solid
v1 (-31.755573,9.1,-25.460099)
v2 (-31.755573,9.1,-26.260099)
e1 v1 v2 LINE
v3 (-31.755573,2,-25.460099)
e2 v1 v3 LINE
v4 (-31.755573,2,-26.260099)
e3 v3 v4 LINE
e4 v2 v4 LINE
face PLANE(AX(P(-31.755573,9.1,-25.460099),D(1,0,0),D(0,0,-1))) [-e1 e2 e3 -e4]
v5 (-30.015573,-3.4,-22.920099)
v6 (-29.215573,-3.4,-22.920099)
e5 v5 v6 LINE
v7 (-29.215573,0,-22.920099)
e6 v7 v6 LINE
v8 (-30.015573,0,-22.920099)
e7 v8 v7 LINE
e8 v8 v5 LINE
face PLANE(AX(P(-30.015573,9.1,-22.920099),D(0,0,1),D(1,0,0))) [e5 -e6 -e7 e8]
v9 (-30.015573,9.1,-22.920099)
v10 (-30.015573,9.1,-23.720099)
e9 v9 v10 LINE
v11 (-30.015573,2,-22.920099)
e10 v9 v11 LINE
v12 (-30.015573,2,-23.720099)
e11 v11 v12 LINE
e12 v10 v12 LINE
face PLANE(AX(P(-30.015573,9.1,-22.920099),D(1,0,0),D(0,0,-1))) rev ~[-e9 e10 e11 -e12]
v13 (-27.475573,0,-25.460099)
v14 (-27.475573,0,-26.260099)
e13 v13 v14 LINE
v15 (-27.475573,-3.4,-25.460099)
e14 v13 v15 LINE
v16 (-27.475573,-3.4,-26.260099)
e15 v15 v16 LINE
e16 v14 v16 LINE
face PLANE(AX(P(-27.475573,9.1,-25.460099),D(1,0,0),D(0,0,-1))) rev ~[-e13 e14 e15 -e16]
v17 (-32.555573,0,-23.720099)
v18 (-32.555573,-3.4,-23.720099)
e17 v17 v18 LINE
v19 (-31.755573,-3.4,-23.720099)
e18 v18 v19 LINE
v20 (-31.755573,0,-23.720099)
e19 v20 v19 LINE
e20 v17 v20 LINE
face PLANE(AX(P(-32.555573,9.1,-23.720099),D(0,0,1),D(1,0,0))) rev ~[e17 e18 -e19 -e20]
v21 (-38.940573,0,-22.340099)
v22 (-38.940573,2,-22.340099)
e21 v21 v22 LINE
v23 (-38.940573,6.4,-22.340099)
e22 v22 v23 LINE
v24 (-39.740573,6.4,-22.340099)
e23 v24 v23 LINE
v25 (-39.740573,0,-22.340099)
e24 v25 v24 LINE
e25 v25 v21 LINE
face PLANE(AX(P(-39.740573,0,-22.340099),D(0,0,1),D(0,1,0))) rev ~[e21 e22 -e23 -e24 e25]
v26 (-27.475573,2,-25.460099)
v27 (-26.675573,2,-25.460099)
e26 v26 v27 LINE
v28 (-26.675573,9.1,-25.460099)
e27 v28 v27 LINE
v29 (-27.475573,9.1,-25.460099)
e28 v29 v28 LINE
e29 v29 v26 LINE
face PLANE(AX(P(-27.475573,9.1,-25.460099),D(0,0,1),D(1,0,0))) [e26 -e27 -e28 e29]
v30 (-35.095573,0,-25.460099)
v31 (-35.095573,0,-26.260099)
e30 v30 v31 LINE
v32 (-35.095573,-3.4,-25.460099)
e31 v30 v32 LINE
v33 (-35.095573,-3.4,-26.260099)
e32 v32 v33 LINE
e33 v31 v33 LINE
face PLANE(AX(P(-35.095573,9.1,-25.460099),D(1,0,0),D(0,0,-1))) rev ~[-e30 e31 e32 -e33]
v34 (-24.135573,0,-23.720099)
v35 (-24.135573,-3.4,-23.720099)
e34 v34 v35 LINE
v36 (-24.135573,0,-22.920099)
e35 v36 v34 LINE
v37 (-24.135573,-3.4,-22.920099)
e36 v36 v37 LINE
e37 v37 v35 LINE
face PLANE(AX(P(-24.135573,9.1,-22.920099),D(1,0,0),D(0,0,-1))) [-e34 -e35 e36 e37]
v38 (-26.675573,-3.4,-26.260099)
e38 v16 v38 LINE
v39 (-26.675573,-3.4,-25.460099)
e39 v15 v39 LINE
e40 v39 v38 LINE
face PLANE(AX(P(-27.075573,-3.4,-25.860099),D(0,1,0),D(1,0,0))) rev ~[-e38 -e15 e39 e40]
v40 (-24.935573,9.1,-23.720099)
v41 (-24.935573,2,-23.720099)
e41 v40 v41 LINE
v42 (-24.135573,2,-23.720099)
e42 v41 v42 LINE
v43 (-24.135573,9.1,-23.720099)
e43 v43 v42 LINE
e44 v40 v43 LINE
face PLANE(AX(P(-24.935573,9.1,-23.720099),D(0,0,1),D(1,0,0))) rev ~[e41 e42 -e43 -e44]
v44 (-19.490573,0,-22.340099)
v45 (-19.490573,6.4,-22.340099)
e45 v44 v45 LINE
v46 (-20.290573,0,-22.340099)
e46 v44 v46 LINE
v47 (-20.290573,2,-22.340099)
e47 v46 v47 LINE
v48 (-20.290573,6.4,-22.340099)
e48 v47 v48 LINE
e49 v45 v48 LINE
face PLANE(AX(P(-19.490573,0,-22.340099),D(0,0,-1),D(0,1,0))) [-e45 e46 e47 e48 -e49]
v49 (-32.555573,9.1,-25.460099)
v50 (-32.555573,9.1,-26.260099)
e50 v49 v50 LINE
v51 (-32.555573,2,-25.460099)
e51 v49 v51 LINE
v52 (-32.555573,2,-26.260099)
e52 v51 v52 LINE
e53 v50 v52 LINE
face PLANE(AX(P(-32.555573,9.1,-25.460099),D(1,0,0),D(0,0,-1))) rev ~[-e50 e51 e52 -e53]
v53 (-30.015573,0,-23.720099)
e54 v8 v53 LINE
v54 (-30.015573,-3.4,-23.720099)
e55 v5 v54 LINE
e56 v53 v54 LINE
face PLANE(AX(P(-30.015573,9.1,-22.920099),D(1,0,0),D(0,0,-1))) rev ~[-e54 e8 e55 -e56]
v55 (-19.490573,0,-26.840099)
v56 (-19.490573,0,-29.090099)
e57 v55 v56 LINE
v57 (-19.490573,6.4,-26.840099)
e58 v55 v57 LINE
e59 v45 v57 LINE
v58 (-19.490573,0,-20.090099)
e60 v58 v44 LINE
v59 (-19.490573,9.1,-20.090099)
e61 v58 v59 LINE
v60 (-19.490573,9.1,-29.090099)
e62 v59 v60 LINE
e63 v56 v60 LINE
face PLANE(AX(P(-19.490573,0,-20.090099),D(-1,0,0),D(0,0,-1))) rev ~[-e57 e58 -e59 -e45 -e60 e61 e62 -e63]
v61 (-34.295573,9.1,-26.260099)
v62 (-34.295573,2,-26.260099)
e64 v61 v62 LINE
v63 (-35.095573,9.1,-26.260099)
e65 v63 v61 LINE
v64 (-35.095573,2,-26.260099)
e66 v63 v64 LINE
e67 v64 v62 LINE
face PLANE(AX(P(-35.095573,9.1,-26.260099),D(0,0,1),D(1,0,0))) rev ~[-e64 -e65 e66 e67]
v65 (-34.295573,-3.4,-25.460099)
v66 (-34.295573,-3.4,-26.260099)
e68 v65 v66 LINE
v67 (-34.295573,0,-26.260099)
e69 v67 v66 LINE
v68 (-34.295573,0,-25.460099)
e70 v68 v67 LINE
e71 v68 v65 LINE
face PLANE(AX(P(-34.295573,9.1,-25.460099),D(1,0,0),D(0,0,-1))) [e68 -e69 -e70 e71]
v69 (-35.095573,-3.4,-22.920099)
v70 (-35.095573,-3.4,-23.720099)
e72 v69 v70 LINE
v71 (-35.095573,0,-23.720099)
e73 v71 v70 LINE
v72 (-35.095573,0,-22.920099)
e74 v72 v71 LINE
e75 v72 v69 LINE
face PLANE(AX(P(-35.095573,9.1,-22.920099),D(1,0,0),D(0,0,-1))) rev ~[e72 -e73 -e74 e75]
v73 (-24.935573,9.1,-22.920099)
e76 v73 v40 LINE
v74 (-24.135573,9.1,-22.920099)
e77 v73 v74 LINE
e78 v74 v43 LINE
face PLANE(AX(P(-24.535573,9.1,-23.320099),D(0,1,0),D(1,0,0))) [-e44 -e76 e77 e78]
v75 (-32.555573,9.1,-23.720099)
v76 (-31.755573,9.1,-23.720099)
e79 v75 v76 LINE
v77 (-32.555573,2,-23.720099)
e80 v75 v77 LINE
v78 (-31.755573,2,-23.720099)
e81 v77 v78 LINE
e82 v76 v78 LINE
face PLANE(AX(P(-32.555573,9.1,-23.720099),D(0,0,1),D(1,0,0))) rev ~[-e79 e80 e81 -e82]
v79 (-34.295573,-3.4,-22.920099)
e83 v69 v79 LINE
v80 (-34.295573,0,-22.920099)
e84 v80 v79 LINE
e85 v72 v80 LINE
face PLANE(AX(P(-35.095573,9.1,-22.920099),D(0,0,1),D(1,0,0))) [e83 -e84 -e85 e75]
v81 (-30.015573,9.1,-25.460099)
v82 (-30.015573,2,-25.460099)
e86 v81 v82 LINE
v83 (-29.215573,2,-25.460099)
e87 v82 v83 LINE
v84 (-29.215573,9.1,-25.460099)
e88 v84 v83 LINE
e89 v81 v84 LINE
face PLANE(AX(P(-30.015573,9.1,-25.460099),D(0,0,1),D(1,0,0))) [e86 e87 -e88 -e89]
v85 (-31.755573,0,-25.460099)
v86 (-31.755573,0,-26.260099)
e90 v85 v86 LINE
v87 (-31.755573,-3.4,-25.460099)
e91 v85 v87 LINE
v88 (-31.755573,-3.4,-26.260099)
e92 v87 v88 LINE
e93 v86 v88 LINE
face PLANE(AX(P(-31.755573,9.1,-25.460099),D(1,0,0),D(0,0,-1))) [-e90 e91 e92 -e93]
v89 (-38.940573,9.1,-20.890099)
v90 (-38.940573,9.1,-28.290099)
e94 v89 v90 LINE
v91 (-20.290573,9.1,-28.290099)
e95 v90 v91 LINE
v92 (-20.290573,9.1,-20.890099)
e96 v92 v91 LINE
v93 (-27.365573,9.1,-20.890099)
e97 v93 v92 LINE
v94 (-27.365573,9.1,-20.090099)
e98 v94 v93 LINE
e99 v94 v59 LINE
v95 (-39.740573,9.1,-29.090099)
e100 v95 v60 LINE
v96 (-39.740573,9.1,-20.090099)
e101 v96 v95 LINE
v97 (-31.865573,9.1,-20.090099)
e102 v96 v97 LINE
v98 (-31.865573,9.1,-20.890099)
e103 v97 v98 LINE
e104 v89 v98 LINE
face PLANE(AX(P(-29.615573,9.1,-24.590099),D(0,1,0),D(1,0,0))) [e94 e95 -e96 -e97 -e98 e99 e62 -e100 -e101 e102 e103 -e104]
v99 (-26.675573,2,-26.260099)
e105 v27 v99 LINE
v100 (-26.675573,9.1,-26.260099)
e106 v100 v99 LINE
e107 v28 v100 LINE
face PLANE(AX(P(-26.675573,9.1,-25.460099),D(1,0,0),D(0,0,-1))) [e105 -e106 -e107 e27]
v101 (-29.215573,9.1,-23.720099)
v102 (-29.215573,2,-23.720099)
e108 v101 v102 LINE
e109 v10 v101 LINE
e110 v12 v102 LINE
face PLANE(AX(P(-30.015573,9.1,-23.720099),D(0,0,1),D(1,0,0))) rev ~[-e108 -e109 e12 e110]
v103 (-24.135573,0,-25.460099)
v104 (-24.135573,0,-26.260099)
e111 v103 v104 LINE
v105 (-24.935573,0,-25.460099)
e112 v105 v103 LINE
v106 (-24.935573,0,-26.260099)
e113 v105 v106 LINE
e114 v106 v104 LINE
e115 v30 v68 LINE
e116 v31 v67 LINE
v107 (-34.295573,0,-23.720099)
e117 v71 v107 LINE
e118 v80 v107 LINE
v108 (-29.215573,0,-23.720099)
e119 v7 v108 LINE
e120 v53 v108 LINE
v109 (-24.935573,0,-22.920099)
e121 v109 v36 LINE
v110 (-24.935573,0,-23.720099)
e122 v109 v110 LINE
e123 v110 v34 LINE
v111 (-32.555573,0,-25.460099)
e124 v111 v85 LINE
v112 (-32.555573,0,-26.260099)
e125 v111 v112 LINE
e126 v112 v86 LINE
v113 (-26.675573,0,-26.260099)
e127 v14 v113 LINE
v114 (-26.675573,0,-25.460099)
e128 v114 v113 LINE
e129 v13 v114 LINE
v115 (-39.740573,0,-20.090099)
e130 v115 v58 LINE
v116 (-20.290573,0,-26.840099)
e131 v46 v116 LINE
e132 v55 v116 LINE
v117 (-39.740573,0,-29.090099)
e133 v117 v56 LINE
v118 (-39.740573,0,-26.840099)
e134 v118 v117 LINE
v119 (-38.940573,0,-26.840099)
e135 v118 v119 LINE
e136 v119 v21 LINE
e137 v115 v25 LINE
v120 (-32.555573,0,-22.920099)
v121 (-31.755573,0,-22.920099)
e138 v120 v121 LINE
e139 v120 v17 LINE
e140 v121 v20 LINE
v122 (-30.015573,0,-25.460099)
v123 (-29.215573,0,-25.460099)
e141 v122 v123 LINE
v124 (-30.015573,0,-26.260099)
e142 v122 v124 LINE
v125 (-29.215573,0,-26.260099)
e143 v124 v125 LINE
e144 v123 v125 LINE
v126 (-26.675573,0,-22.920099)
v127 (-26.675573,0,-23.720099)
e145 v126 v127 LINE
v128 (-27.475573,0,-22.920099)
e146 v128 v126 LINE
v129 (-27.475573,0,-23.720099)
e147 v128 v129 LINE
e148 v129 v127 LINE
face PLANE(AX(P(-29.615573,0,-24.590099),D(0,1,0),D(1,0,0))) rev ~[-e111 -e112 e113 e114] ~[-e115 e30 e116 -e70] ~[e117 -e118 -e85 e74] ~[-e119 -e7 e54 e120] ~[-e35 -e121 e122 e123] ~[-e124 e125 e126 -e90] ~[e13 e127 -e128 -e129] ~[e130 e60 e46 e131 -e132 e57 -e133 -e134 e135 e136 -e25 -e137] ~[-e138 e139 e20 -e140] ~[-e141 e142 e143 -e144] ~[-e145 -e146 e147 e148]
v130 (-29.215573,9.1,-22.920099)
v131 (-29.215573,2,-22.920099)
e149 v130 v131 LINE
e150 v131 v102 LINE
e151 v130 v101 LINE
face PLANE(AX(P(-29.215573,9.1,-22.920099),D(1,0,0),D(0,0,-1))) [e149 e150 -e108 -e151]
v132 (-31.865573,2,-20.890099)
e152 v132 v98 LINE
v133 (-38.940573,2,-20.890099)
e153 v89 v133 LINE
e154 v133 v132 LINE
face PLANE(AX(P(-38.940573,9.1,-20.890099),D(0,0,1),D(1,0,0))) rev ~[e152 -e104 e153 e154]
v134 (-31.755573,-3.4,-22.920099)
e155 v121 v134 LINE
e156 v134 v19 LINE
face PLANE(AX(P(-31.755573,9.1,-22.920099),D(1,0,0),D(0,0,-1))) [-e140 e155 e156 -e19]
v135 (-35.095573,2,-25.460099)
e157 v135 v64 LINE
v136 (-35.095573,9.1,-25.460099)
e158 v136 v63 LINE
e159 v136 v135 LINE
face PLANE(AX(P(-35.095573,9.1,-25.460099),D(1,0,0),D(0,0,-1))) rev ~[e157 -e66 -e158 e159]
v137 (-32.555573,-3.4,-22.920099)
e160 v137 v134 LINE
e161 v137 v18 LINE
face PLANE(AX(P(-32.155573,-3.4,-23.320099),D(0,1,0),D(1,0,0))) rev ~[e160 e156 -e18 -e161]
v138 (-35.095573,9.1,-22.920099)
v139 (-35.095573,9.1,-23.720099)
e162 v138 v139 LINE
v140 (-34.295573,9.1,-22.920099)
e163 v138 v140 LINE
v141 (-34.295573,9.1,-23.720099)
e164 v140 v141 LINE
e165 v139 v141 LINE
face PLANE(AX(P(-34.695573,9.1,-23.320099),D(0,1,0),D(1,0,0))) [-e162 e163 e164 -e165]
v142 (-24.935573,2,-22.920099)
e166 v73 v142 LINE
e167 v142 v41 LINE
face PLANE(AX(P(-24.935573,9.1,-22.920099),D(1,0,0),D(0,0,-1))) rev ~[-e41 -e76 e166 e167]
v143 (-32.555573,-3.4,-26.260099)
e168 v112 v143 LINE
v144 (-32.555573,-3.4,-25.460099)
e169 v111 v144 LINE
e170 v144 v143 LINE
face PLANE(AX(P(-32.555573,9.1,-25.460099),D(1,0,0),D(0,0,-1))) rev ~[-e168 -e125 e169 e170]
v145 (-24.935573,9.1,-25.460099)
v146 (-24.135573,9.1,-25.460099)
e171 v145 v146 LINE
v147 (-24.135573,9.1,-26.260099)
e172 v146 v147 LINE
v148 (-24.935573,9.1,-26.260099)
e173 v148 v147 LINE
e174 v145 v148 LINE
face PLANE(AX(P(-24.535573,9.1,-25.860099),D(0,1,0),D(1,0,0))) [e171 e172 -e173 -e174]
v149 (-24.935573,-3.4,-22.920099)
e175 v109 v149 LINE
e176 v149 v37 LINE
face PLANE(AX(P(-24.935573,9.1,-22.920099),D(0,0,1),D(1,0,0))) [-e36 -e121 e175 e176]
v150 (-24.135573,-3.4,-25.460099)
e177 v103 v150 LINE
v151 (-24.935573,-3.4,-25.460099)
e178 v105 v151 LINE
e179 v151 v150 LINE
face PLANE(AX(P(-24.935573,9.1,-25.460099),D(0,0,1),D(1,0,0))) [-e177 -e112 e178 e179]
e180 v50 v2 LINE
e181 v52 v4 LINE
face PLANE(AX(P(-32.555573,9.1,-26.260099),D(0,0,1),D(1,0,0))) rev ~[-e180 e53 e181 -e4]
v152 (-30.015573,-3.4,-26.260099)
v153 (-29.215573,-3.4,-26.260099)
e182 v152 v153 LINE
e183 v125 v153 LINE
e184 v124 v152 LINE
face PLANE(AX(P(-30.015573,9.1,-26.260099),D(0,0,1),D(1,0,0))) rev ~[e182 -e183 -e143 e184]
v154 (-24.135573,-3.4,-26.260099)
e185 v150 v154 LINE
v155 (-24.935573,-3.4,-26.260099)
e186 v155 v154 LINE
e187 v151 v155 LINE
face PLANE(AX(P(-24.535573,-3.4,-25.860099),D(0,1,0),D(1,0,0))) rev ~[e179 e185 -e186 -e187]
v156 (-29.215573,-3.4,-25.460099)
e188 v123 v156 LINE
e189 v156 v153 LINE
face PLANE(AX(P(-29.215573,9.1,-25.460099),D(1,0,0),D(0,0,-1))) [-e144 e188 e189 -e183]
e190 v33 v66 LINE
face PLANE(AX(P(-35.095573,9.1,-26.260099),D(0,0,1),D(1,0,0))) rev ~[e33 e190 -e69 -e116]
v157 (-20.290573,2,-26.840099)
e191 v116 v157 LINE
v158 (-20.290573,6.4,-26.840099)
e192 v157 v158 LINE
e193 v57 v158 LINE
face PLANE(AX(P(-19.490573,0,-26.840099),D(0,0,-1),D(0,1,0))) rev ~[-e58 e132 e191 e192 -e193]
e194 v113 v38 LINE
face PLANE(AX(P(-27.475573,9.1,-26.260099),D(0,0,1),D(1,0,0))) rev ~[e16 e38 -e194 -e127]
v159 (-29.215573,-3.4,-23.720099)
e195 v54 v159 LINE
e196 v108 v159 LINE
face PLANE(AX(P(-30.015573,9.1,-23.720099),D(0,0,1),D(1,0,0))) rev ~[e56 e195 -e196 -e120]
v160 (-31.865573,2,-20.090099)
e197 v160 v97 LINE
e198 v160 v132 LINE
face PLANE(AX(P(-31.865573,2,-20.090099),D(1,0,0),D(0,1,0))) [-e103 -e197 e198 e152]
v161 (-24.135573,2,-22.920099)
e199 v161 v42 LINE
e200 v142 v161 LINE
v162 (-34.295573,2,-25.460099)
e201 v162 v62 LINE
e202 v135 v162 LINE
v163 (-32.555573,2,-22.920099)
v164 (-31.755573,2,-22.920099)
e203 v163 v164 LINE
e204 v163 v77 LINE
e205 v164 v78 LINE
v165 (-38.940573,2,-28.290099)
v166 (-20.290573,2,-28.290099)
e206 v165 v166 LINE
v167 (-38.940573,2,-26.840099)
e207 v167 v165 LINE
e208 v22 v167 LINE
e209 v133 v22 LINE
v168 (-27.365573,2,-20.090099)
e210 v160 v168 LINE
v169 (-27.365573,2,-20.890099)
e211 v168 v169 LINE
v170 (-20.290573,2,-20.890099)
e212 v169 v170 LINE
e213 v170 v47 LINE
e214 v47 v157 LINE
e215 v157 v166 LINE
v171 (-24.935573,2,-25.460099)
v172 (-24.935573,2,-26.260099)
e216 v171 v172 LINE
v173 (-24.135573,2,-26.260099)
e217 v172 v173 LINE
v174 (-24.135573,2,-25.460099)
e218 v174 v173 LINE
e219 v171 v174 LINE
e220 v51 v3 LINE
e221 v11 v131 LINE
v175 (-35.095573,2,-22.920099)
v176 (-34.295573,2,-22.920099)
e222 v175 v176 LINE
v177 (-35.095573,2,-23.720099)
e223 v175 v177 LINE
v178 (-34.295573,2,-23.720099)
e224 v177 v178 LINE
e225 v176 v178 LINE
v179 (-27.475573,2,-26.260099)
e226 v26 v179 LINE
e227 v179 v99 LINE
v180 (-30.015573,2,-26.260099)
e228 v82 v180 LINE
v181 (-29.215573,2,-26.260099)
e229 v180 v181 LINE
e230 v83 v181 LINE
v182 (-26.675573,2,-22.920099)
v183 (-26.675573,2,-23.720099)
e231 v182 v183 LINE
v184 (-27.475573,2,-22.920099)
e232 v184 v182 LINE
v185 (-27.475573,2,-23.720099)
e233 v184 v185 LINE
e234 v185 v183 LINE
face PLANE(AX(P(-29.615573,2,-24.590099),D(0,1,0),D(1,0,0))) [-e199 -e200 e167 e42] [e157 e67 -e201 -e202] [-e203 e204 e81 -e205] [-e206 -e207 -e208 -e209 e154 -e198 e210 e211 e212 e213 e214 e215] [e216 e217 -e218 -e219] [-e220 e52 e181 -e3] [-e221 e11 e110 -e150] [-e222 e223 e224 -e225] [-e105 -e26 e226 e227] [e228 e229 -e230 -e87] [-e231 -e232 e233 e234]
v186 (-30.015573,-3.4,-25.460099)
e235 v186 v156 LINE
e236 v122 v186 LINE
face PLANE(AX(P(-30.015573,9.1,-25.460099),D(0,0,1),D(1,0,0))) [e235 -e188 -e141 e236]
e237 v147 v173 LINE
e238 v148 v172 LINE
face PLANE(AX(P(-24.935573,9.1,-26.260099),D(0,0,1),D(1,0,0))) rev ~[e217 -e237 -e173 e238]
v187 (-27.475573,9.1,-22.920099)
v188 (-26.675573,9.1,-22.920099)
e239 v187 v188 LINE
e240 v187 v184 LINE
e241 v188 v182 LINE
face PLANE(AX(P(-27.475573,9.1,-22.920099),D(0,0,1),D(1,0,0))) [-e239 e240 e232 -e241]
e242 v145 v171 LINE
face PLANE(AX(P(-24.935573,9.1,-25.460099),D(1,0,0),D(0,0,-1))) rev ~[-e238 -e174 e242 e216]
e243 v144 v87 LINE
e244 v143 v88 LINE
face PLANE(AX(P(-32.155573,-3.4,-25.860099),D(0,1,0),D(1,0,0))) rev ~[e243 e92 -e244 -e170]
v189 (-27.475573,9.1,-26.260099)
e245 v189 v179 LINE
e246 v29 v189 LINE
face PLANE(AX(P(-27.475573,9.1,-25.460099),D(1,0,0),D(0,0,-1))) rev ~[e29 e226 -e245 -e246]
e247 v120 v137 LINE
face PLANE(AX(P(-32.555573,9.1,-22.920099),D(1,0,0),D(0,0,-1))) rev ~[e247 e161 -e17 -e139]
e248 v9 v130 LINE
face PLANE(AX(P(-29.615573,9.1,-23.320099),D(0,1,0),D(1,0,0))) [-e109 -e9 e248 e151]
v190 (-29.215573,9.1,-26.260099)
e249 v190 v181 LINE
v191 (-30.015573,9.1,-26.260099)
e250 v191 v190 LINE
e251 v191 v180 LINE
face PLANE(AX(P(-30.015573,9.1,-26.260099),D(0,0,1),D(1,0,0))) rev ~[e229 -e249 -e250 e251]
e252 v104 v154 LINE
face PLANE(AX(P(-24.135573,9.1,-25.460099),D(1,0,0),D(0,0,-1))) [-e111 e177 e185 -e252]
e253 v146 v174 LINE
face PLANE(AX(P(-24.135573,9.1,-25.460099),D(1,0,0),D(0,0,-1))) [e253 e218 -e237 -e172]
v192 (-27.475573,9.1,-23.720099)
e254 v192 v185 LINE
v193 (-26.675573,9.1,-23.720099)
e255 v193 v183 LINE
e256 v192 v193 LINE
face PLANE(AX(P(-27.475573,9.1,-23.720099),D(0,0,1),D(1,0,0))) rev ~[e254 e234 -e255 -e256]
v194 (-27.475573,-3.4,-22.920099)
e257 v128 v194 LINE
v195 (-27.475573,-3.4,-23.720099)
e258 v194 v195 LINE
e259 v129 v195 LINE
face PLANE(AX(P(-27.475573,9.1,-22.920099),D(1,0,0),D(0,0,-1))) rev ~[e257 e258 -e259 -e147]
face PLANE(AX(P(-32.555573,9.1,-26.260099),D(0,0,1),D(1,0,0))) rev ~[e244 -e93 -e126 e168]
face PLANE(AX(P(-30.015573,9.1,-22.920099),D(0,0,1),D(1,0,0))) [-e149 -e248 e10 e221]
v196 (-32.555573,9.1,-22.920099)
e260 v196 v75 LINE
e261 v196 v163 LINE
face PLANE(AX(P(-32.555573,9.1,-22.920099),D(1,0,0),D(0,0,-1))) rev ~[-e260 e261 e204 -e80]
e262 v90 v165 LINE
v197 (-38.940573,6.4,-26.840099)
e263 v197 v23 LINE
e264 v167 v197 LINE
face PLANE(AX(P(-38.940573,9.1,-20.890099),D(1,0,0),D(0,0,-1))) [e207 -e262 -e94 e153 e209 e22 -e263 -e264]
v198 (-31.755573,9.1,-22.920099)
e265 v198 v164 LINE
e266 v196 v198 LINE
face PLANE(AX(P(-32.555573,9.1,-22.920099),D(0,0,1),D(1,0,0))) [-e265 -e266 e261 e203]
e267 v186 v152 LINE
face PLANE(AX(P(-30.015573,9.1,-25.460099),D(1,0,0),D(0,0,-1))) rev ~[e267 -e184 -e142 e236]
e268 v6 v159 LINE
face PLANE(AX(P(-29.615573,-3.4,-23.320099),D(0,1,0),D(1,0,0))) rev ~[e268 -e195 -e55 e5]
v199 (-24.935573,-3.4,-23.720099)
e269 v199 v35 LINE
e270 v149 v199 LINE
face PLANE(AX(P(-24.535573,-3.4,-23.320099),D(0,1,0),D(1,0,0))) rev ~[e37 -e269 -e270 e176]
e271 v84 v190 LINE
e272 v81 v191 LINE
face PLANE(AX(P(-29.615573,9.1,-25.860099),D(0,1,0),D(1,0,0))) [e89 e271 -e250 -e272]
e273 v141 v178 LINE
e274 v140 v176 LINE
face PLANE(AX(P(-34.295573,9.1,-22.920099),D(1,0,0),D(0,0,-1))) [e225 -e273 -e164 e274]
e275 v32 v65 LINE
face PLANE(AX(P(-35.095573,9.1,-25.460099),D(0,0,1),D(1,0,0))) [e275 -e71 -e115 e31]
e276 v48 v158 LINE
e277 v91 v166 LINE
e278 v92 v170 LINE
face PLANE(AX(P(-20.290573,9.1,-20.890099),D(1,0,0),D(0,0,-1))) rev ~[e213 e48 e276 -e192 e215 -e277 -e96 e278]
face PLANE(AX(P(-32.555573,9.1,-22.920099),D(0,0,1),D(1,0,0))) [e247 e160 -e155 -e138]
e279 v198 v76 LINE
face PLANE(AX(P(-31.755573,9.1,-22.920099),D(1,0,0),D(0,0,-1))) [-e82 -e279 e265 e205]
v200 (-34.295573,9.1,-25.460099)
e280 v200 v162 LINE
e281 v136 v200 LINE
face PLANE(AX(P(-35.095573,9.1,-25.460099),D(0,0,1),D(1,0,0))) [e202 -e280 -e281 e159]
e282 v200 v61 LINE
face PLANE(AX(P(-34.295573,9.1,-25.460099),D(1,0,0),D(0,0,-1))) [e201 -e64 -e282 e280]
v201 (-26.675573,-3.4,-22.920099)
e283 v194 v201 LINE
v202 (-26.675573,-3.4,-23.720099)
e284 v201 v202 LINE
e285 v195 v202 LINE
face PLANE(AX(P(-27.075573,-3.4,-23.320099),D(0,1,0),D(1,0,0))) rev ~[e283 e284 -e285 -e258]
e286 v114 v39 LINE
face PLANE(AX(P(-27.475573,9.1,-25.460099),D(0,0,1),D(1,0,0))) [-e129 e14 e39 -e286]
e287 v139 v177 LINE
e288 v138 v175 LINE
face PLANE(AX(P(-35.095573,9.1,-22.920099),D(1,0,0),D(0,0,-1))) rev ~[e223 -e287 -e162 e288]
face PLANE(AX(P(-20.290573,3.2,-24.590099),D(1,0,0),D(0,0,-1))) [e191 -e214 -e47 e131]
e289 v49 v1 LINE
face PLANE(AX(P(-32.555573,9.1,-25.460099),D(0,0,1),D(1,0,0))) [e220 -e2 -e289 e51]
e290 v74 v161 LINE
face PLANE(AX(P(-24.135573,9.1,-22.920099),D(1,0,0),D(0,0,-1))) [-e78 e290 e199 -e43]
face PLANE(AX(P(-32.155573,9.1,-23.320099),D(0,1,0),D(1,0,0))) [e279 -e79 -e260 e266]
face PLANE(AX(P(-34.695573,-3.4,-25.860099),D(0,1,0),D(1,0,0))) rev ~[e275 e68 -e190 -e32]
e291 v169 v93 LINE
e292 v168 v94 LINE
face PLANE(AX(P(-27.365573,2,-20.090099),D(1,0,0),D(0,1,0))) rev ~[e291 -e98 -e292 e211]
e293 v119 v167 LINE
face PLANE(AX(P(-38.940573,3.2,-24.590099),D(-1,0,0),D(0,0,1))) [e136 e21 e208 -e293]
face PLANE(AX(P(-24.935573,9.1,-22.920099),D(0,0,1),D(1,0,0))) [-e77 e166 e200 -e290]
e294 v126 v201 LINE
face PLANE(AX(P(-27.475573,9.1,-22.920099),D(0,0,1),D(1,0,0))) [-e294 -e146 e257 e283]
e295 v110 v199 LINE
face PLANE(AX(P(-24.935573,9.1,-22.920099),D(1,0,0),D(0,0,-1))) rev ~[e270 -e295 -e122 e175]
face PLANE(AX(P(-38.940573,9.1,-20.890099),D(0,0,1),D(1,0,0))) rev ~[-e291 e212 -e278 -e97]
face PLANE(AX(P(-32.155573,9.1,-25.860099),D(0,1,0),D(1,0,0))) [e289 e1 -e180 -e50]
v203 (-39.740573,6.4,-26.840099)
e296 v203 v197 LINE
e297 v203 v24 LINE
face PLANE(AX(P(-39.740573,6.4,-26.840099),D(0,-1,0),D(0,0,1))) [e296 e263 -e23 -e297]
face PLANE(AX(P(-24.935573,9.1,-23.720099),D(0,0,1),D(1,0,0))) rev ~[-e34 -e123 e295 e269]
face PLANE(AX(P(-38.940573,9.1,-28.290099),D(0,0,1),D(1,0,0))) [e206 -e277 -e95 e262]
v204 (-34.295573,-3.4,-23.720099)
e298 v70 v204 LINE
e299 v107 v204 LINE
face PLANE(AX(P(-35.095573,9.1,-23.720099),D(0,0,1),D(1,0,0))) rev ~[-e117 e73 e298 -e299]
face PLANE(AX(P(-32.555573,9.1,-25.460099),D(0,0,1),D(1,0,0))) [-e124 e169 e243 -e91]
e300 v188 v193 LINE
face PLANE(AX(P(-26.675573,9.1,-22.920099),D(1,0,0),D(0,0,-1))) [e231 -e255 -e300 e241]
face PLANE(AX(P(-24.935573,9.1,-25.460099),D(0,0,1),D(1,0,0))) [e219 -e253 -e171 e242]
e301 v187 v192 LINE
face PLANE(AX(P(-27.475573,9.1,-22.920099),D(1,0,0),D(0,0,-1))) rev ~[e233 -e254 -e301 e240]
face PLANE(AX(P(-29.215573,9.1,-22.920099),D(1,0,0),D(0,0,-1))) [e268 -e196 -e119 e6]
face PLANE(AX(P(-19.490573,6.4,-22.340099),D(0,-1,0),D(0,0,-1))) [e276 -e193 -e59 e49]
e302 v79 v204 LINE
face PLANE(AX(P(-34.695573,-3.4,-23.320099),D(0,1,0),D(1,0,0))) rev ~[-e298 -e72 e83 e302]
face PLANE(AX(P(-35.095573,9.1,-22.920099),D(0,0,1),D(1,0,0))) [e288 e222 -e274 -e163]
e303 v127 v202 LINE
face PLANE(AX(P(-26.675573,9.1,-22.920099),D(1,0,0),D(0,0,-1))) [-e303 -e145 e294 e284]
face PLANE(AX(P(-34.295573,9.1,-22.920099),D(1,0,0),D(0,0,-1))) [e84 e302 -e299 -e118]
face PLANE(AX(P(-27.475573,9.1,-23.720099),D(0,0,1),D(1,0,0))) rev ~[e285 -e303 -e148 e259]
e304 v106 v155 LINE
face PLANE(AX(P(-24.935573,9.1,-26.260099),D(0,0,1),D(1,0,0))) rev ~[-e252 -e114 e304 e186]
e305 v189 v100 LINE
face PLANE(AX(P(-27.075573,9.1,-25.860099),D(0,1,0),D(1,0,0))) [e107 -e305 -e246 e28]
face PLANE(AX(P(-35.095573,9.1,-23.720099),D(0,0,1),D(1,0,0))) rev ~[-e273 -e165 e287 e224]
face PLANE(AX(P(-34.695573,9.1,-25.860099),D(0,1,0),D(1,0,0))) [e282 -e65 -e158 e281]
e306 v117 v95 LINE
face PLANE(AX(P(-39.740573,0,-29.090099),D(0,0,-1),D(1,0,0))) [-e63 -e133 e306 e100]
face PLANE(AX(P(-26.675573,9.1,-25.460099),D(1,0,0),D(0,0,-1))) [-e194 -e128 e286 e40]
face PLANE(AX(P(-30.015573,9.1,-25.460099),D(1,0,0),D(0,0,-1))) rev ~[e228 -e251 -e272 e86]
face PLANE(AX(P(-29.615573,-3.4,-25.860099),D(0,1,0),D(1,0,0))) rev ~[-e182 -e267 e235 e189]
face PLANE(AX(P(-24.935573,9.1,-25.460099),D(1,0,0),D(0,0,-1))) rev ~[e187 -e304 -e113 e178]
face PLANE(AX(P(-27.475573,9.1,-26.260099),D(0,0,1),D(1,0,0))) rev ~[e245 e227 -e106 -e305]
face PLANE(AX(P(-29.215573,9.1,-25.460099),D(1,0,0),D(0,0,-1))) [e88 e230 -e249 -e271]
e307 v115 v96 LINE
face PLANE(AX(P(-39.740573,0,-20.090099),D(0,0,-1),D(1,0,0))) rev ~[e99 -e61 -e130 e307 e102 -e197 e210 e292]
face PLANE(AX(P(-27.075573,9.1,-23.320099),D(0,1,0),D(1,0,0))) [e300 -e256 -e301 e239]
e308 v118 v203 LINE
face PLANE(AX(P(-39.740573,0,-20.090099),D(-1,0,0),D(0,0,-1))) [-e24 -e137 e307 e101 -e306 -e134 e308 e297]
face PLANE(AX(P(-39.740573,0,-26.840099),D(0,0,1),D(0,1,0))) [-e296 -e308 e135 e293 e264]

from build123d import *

# Parameters (mm, degrees)
SKETCH1_W           = 20.25
SKETCH1_H           = 9
BOSS_EXTRUDE1_DEPTH = 9.1
SKETCH2_W           = 18.65
SKETCH2_H           = 7.4
CUT_EXTRUDE1_DEPTH  = 7.1
SKETCH2_3_W         = 0.8
SKETCH2_3_H         = 0.8
BOSS_EXTRUDE2_DEPTH = 12.5
SKETCH3_W           = 4.5
SKETCH3_H           = 7.1
CUT_EXTRUDE2_DEPTH  = 2.1
SKETCH5_W           = 4.5
SKETCH5_H           = 6.4
CUT_EXTRUDE3_DEPTH  = 0.8
SKETCH6_W           = 4.5
SKETCH6_H           = 6.4
CUT_EXTRUDE4_DEPTH  = 0.8


with BuildPart() as part:
    # Sketch1 → Boss-Extrude1 (new body)
    with BuildSketch(Plane(origin=(0, 0, 0), x_dir=(1, 0, 0), z_dir=(0, 1, 0))):
        with Locations((-29.615572658, 24.590099186)):
            Rectangle(SKETCH1_W, SKETCH1_H)
    extrude(amount=BOSS_EXTRUDE1_DEPTH)

    # Sketch2 → Cut-Extrude1 (cut)
    with BuildSketch(Plane(origin=(0, 9.1, 0), x_dir=(1, 0, 0), z_dir=(0, 1, 0))):
        with Locations((-29.615572658, 24.590099186)):
            Rectangle(SKETCH2_W, SKETCH2_H)
    extrude(amount=-CUT_EXTRUDE1_DEPTH, mode=Mode.SUBTRACT)

    # Sketch2<3> → Boss-Extrude2 (add)
    with BuildSketch(Plane(origin=(0, 9.1, 0), x_dir=(1, 0, 0), z_dir=(0, 1, 0))):
        with Locations((-32.155572658, 23.320099186)):
            Rectangle(SKETCH2_3_W, SKETCH2_3_H)
        with Locations((-29.615572658, 23.320099186)):
            Rectangle(SKETCH2_3_W, SKETCH2_3_H)
        with Locations((-27.075572658, 23.320099186)):
            Rectangle(SKETCH2_3_W, SKETCH2_3_H)
        with Locations((-24.535572658, 23.320099186)):
            Rectangle(SKETCH2_3_W, SKETCH2_3_H)
        with Locations((-29.615572658, 25.860099186)):
            Rectangle(SKETCH2_3_W, SKETCH2_3_H)
        with Locations((-27.075572658, 25.860099186)):
            Rectangle(SKETCH2_3_W, SKETCH2_3_H)
        with Locations((-24.535572658, 25.860099186)):
            Rectangle(SKETCH2_3_W, SKETCH2_3_H)
        with Locations((-32.155572658, 25.860099186)):
            Rectangle(SKETCH2_3_W, SKETCH2_3_H)
        with Locations((-34.695572658, 23.320099186)):
            Rectangle(SKETCH2_3_W, SKETCH2_3_H)
        with Locations((-34.695572658, 25.860099186)):
            Rectangle(SKETCH2_3_W, SKETCH2_3_H)
    extrude(amount=-BOSS_EXTRUDE2_DEPTH)

    # Sketch3 → Cut-Extrude2 (cut)
    with BuildSketch(Plane.XY.offset(-20.090099186)):
        with Locations((-29.615572658, 5.55)):
            Rectangle(SKETCH3_W, SKETCH3_H)
    extrude(amount=-CUT_EXTRUDE2_DEPTH, mode=Mode.SUBTRACT)

    # Sketch5 → Cut-Extrude3 (cut)
    with BuildSketch(Plane.ZY.offset(39.740572658)):
        with Locations((-24.590099186, 3.2)):
            Rectangle(SKETCH5_W, SKETCH5_H)
    extrude(amount=-CUT_EXTRUDE3_DEPTH, mode=Mode.SUBTRACT)

    # Sketch6 → Cut-Extrude4 (cut)
    with BuildSketch(Plane(origin=(-19.490572658, 0, 0), x_dir=(0, 0, -1), z_dir=(1, 0, 0))):
        with Locations((24.590099186, 3.2)):
            Rectangle(SKETCH6_W, SKETCH6_H)
    extrude(amount=-CUT_EXTRUDE4_DEPTH, mode=Mode.SUBTRACT)


solid = part.part
